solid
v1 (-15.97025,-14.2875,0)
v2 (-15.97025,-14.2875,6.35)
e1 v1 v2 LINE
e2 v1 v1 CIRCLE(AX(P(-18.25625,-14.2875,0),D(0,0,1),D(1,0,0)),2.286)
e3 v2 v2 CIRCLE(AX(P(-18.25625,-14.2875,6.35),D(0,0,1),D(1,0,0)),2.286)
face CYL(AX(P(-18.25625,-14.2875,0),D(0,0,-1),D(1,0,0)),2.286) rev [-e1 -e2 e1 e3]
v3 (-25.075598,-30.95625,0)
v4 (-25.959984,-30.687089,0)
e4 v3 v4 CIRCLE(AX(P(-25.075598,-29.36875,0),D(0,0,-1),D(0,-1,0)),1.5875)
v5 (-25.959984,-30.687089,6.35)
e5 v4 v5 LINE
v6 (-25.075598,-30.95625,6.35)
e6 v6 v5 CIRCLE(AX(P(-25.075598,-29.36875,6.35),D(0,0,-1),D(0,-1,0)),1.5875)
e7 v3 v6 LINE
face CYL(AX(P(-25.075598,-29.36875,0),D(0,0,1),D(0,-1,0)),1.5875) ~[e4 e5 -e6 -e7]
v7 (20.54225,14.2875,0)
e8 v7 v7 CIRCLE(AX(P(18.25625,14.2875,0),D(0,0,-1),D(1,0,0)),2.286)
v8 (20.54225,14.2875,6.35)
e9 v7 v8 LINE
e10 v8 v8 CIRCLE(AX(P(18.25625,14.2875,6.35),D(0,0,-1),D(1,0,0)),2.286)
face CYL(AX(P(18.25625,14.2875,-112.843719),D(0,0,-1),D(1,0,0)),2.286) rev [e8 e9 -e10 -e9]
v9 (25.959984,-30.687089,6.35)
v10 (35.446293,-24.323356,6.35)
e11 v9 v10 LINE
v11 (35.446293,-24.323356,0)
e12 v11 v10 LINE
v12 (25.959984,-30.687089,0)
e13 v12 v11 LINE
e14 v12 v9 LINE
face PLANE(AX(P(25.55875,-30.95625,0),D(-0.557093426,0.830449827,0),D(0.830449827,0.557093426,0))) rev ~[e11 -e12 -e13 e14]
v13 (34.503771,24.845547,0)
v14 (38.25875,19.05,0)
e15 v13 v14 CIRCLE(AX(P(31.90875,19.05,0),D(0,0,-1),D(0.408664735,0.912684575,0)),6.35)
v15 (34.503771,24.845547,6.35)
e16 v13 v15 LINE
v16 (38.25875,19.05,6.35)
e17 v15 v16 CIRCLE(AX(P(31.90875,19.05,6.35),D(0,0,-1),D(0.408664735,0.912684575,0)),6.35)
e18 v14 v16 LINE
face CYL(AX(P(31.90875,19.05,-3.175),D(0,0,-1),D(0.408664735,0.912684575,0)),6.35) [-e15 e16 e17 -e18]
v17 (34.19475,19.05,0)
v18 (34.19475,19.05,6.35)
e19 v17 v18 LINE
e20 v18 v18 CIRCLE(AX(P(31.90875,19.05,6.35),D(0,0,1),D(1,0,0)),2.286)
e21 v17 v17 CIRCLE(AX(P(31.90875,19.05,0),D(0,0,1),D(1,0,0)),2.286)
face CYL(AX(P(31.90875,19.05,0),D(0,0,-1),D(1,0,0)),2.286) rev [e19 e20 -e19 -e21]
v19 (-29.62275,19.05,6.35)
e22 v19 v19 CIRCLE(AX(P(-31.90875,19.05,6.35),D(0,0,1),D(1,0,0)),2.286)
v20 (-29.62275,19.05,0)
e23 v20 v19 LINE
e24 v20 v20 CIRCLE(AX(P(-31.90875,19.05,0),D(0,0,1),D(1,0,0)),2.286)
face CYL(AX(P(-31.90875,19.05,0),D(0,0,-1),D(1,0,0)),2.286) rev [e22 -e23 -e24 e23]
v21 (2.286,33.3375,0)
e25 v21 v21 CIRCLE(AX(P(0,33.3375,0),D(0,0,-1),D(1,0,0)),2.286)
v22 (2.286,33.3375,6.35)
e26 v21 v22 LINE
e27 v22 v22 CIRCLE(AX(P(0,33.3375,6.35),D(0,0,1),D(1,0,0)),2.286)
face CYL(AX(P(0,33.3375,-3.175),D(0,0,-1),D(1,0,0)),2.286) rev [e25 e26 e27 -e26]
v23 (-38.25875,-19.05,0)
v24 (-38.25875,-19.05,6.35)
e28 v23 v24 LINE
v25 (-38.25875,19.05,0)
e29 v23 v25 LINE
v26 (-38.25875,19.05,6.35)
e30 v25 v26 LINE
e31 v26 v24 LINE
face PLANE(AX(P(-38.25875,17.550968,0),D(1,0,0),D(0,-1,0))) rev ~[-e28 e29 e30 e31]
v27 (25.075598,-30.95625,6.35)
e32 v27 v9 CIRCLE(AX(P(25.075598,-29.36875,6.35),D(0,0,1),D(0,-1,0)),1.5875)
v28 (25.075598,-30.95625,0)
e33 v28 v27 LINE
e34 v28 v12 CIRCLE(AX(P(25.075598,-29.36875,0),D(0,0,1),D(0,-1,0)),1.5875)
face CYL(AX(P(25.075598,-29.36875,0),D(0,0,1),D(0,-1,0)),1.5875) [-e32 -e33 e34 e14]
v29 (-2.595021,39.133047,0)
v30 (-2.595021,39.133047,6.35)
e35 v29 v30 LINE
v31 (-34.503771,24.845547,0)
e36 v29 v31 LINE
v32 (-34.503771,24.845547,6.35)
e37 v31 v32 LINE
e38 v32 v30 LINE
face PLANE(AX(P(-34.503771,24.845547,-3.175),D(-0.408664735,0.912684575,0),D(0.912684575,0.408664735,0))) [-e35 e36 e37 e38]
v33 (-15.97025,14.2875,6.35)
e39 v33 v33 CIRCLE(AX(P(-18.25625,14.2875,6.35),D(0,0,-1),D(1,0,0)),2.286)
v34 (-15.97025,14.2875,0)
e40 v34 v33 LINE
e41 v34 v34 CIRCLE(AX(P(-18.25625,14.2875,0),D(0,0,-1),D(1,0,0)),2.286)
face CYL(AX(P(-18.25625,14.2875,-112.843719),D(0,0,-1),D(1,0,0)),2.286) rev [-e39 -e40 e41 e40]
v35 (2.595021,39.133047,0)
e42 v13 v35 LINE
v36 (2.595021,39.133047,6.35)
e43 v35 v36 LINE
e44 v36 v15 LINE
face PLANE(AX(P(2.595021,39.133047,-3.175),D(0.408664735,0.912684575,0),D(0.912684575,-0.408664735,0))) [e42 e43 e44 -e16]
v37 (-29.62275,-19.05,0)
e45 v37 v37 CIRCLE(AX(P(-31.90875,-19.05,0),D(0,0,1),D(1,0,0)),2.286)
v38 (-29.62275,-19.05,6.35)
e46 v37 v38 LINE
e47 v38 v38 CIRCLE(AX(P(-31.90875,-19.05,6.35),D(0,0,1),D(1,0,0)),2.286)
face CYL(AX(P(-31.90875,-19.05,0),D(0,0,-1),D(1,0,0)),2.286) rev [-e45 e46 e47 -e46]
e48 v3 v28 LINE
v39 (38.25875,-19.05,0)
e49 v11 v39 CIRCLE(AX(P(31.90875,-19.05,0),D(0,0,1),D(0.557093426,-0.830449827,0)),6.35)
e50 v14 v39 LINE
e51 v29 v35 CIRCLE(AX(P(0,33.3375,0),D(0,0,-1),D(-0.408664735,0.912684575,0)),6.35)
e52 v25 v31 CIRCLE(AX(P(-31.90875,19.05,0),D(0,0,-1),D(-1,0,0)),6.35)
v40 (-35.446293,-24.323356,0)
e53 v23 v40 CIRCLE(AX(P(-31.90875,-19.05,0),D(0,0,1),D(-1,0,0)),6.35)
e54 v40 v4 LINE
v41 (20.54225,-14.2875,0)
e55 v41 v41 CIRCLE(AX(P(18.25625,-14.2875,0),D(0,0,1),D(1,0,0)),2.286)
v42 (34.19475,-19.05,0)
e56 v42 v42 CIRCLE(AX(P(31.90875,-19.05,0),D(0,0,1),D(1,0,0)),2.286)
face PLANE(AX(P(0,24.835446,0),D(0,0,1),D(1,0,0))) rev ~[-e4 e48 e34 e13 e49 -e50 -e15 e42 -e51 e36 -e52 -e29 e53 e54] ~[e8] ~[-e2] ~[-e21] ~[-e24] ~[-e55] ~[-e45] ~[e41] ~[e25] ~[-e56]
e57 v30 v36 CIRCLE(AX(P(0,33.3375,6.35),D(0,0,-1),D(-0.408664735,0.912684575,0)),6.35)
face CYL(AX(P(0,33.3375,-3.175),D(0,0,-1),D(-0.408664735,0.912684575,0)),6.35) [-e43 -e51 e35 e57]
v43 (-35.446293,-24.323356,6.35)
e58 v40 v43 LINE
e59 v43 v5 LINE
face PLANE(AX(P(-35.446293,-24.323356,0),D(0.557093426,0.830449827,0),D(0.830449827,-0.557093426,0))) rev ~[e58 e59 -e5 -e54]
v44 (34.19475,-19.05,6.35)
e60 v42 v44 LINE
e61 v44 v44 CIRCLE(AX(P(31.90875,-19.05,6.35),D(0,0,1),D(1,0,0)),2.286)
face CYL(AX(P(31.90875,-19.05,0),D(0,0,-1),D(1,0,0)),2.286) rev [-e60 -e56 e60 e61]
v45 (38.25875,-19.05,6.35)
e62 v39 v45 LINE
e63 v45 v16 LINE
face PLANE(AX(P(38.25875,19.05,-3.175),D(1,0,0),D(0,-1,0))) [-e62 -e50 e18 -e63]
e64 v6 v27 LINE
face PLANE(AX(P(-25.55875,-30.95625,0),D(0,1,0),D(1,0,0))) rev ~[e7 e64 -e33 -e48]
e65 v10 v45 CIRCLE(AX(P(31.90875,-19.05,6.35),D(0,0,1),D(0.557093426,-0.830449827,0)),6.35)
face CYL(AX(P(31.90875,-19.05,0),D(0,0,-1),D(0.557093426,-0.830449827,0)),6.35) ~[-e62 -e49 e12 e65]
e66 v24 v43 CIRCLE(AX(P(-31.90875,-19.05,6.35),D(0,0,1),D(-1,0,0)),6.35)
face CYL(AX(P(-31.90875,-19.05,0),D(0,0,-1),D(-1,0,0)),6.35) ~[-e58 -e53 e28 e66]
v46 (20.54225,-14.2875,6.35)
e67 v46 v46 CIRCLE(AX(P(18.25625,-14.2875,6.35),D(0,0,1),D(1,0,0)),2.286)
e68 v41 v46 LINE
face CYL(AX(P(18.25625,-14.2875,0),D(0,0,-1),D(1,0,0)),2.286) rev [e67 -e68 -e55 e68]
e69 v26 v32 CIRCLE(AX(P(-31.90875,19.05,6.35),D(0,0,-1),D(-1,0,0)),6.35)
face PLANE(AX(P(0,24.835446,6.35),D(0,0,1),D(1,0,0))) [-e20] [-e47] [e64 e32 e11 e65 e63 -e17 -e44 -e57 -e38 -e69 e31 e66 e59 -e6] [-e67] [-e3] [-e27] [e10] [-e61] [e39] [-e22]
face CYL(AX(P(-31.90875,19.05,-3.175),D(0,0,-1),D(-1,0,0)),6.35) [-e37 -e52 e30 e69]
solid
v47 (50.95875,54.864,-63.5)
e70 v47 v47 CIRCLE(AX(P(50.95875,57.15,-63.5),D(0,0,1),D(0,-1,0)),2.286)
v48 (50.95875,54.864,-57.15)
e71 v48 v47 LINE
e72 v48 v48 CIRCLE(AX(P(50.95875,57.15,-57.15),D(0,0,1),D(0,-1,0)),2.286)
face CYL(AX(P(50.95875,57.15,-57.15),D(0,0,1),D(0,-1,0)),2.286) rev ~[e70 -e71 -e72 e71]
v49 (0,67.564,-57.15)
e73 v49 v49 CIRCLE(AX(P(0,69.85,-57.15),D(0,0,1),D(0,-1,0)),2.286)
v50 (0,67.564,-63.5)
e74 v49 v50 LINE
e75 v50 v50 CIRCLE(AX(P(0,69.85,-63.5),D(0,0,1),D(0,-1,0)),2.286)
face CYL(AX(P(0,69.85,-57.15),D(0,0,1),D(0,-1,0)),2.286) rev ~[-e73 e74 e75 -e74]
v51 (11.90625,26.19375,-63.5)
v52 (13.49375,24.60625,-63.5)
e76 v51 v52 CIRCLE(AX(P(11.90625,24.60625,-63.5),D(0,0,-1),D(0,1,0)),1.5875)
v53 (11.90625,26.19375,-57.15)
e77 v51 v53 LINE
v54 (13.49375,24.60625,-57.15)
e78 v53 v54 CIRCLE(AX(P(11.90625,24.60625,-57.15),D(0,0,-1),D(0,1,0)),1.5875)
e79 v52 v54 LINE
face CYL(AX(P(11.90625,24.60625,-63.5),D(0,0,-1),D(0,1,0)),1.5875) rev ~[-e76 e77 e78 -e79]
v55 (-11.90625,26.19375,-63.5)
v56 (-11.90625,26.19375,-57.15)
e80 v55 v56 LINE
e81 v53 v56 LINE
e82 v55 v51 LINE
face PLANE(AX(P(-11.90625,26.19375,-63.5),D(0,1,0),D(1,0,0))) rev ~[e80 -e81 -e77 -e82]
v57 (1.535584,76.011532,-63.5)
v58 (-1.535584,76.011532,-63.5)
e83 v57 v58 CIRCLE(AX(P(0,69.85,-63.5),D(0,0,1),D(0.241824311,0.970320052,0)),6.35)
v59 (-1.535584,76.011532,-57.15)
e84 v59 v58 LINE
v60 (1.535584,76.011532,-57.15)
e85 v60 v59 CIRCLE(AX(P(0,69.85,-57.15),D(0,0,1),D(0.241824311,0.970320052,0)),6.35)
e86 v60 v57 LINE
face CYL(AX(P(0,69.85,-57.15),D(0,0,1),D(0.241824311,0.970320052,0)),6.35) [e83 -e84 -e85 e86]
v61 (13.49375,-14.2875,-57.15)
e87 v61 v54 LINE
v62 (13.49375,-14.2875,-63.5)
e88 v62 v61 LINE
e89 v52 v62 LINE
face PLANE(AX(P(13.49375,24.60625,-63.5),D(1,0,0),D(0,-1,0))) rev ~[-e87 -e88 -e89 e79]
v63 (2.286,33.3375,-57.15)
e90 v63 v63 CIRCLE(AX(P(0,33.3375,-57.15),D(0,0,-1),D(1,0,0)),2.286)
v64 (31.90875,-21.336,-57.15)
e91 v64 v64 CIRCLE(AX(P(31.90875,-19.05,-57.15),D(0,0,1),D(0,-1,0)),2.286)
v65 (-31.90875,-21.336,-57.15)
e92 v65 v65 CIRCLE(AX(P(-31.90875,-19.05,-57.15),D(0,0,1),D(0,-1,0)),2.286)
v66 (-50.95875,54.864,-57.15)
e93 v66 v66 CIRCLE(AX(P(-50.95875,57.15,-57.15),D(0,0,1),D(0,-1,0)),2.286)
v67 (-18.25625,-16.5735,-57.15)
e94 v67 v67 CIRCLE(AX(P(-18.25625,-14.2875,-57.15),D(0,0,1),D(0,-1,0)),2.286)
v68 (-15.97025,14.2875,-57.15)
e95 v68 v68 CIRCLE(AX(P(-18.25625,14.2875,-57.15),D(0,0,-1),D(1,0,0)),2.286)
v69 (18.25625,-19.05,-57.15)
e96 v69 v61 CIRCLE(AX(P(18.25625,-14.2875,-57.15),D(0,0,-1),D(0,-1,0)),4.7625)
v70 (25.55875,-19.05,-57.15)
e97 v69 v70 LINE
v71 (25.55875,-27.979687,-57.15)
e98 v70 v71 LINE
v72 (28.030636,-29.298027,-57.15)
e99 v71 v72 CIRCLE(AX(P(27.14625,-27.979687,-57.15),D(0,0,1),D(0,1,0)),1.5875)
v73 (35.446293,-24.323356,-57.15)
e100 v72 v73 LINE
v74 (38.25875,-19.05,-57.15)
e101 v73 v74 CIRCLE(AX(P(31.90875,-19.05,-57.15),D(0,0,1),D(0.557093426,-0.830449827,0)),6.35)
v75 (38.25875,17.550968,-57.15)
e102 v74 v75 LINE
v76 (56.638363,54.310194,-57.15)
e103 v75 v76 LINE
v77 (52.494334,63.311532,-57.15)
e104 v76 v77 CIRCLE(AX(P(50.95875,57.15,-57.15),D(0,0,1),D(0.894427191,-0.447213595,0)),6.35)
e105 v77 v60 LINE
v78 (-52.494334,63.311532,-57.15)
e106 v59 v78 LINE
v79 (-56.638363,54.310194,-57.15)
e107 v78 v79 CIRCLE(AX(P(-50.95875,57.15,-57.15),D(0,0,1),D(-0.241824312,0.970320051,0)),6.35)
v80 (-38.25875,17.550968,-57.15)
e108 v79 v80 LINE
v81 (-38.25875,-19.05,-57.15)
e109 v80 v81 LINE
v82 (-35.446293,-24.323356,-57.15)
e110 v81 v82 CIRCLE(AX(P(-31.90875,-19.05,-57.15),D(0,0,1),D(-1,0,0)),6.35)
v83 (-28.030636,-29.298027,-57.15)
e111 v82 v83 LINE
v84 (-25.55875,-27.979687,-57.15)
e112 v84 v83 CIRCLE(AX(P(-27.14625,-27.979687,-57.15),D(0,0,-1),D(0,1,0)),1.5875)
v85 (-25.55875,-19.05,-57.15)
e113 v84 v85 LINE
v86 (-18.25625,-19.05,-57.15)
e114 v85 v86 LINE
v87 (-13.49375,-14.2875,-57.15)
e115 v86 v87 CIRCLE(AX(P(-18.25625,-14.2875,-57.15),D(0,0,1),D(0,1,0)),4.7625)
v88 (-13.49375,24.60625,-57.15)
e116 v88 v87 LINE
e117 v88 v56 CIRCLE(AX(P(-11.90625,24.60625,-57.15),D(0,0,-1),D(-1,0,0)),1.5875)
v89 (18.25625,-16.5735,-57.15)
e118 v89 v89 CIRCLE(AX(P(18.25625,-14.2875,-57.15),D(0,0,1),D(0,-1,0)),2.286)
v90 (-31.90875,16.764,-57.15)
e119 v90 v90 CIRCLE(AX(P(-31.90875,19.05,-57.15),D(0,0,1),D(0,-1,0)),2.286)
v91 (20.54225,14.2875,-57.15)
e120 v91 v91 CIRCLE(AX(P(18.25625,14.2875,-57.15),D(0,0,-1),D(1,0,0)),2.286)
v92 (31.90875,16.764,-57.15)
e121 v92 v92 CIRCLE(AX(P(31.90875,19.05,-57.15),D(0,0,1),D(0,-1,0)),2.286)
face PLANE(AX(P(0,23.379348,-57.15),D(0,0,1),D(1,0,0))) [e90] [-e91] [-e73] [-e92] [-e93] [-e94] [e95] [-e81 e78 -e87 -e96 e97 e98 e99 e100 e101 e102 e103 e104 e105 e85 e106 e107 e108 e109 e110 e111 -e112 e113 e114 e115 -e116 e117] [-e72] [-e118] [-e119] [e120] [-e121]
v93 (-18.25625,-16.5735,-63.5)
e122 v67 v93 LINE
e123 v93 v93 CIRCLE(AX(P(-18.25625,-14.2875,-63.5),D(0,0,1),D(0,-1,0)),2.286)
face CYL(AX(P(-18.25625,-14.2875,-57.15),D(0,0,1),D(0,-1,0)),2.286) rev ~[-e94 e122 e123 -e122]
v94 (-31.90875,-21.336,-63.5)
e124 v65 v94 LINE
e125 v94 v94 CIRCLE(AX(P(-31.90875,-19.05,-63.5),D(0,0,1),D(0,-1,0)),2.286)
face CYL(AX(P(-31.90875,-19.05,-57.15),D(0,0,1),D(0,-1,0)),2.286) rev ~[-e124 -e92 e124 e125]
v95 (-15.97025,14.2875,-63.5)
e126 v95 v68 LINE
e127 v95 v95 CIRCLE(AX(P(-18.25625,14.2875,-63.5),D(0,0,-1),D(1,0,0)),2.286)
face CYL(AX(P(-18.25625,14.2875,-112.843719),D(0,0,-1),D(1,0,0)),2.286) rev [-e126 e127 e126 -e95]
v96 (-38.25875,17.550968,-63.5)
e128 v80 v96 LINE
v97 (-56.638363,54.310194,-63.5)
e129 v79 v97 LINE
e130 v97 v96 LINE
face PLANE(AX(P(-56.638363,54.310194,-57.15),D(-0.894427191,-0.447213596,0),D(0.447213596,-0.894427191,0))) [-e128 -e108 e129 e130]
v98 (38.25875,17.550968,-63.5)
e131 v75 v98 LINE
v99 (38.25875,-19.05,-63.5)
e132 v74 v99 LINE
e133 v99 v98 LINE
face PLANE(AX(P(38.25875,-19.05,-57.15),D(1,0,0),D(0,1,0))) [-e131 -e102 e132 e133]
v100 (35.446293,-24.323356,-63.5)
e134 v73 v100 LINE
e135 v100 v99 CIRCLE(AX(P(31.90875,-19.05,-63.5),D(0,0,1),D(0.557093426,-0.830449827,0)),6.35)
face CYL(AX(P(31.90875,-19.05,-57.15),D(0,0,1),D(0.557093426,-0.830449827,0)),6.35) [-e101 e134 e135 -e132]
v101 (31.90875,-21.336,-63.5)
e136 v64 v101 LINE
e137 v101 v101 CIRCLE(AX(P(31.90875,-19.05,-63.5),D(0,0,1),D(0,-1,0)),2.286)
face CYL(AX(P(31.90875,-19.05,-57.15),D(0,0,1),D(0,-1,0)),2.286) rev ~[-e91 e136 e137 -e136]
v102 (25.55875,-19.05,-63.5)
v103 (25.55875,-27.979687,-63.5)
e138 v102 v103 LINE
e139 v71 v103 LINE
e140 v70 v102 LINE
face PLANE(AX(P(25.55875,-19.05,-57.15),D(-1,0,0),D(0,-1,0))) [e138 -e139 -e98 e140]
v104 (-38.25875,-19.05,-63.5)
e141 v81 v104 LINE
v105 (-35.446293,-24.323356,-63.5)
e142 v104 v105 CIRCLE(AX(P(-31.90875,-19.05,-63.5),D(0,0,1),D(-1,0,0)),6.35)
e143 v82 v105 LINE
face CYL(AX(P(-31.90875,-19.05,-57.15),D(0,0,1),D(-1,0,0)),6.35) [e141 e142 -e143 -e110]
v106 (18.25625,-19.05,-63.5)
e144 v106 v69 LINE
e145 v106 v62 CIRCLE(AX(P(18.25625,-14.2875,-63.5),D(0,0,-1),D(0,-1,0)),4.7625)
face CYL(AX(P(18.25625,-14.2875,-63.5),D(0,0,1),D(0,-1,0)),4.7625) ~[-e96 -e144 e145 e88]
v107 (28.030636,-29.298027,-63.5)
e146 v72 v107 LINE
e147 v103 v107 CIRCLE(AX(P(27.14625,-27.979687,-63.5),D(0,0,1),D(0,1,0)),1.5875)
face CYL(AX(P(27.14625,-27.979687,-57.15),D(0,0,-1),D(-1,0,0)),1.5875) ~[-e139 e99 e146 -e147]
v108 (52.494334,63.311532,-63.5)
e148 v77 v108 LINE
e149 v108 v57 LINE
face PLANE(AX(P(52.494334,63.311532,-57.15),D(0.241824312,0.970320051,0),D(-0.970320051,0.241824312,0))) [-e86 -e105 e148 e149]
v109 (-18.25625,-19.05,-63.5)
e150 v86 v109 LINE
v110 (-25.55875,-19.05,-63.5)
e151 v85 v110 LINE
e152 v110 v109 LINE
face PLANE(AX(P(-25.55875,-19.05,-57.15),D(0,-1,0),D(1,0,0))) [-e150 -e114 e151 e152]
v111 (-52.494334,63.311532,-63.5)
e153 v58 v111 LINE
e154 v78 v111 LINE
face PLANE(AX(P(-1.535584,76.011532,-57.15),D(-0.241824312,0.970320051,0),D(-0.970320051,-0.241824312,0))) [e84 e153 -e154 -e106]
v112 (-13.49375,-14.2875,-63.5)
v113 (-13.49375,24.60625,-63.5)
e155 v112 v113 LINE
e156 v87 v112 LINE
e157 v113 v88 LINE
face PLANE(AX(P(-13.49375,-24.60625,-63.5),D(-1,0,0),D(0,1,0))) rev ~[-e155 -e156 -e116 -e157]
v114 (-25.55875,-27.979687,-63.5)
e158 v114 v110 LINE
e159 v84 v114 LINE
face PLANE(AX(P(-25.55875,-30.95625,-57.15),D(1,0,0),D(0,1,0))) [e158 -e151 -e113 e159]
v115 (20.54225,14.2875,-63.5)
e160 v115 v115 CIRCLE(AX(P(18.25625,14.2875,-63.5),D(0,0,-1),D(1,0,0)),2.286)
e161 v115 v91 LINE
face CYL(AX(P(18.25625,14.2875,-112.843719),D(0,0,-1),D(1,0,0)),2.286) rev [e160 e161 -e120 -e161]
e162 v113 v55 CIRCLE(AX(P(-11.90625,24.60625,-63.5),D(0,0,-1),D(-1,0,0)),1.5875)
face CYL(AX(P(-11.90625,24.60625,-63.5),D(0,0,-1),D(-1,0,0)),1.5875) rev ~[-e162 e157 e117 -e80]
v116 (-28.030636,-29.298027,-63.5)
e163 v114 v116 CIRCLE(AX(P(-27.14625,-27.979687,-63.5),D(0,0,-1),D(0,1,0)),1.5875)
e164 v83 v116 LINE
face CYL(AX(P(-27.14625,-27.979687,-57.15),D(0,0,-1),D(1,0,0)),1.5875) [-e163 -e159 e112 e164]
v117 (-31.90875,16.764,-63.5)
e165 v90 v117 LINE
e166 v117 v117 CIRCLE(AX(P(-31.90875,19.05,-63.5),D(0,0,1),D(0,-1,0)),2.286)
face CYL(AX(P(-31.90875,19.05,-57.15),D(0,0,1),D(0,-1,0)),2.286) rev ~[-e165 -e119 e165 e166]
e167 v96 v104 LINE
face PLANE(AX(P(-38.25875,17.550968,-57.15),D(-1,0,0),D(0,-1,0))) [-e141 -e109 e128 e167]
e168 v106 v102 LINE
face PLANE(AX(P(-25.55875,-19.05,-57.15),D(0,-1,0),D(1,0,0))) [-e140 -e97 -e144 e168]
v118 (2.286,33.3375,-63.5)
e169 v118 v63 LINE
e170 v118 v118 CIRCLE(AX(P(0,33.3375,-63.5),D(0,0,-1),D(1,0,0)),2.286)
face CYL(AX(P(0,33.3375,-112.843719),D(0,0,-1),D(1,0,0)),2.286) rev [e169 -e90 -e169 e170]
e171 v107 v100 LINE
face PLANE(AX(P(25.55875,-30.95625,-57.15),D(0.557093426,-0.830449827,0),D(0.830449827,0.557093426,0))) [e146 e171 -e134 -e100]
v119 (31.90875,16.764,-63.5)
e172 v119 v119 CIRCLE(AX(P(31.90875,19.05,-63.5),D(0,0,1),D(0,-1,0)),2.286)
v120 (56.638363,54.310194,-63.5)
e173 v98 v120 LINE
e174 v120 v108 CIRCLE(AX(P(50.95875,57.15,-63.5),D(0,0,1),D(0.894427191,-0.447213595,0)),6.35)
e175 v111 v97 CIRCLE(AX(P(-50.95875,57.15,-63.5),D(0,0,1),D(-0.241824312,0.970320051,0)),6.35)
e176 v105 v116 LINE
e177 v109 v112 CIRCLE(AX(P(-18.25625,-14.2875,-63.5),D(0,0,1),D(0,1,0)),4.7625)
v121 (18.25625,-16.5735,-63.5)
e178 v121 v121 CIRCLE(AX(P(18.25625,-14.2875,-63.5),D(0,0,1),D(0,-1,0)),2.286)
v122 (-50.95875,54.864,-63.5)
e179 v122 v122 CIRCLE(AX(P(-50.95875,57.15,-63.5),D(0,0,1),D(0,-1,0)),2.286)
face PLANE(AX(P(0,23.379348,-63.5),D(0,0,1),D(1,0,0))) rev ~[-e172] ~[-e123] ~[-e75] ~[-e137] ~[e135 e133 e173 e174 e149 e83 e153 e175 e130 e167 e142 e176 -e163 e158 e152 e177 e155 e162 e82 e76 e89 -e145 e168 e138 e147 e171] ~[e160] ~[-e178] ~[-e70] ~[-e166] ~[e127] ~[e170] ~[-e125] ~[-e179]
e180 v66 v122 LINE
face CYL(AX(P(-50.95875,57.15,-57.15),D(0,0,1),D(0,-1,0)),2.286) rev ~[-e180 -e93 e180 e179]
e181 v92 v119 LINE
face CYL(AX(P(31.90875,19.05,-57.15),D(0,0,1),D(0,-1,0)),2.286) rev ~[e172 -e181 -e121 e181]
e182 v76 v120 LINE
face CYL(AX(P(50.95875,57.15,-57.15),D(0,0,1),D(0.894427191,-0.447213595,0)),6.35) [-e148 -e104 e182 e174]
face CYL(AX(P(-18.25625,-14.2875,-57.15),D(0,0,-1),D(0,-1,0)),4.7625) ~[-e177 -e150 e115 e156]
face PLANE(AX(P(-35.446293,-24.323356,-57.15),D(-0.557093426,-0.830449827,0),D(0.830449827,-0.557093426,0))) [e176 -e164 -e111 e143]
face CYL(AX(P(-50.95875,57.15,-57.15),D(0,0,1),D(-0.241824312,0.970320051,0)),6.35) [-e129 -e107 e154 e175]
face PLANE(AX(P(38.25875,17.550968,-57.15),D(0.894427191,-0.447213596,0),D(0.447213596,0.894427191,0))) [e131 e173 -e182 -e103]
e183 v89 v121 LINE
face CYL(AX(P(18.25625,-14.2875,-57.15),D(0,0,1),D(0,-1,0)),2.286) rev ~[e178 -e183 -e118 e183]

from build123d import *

# Parameters (mm, degrees)
SKETCH1_R               = 2.286
BOSS_EXTRUDE1_DEPTH     = 6.35
BOSS_EXTRUDE2_START     = -57.15
SKETCH1_3_R             = 2.286
BOSS_EXTRUDE2_DEPTH     = 6.35
FILLET1_R               = 1.5875
FILLET2_R               = 1.5875
CUT_EXTRUDE1_DEPTH      = 7.62
FILLET3_R               = 4.7625
CUT_EXTRUDE2_START      = -9.525
SKETCH4_R               = 2.286
CUT_EXTRUDE2_DEPTH      = 9.525
CUT_EXTRUDE3_DEPTH      = 119.193719489
CUT_EXTRUDE3_DEPTH_BACK = 119.193719489
SKETCH4_3_R             = 2.286


with BuildPart() as part:
    # Sketch1 → Boss-Extrude1 (new body)
    with BuildSketch(Plane.XY):
        with BuildLine():
            Line((-25.55875, -30.95625), (25.55875, -30.95625))
            Line((25.55875, -30.95625), (35.446293253, -24.323356401))
            ThreePointArc((35.446293253, -24.323356401), (37.511691176, -22.038235294), (38.25875, -19.05))
            Line((38.25875, -19.05), (38.25875, 17.550968343))
            Line((38.25875, 17.550968343), (56.638362663, 54.310193669))
            ThreePointArc((56.638362663, 54.310193669), (56.726833867, 59.805505319), (52.49433438, 63.311532327))
            Line((52.49433438, 63.311532327), (1.53558438, 76.011532327))
            ThreePointArc((1.53558438, 76.011532327), (0, 76.2), (-1.53558438, 76.011532327))
            Line((-1.53558438, 76.011532327), (-52.49433438, 63.311532327))
            ThreePointArc((-52.49433438, 63.311532327), (-56.726833867, 59.805505319), (-56.638362663, 54.310193669))
            Line((-56.638362663, 54.310193669), (-38.25875, 17.550968343))
            Line((-38.25875, 17.550968343), (-38.25875, -19.05))
            ThreePointArc((-38.25875, -19.05), (-37.511691176, -22.038235294), (-35.446293253, -24.323356401))
            Line((-35.446293253, -24.323356401), (-25.55875, -30.95625))
        make_face()
        with Locations((-31.90875, -19.05)):
            Circle(SKETCH1_R, mode=Mode.SUBTRACT)
        with Locations((-18.25625, -14.2875)):
            Circle(SKETCH1_R, mode=Mode.SUBTRACT)
        with Locations((18.25625, -14.2875)):
            Circle(SKETCH1_R, mode=Mode.SUBTRACT)
        with Locations((31.90875, -19.05)):
            Circle(SKETCH1_R, mode=Mode.SUBTRACT)
        with Locations((-31.90875, 19.05)):
            Circle(SKETCH1_R, mode=Mode.SUBTRACT)
        with Locations((-50.95875, 57.15)):
            Circle(SKETCH1_R, mode=Mode.SUBTRACT)
        with Locations((31.90875, 19.05)):
            Circle(SKETCH1_R, mode=Mode.SUBTRACT)
        with Locations((50.95875, 57.15)):
            Circle(SKETCH1_R, mode=Mode.SUBTRACT)
        with Locations((0, 69.85)):
            Circle(SKETCH1_R, mode=Mode.SUBTRACT)
    extrude(amount=BOSS_EXTRUDE1_DEPTH)

    # Fillet2
    fillet2_edges = [part.edges().sort_by_distance(p)[0] for p in [
        (25.55875, -30.95625, 3.175),
        (-25.55875, -30.95625, 3.175),
    ]]
    fillet(fillet2_edges, radius=FILLET2_R)

    # Sketch4 → Cut-Extrude2 (cut)
    # profile 1 of 3: a face of its own
    with BuildSketch(Plane.XY.offset(6.35).offset(CUT_EXTRUDE2_START)):
        with BuildLine():
            Line((-98.245897659, 9.07752692), (-38.25875, 17.550968343))
            Line((-38.25875, 17.550968343), (-56.638362663, 54.310193669))
            ThreePointArc((-56.638362663, 54.310193669), (-56.726833867, 59.805505319), (-52.49433438, 63.311532327))
            Line((-52.49433438, 63.311532327), (-1.53558438, 76.011532327))
            ThreePointArc((-1.53558438, 76.011532327), (0, 76.2), (1.53558438, 76.011532327))
            Line((1.53558438, 76.011532327), (52.49433438, 63.311532327))
            ThreePointArc((52.49433438, 63.311532327), (56.726833867, 59.805505319), (56.638362663, 54.310193669))
            Line((56.638362663, 54.310193669), (38.25875, 17.550968343))
            Line((38.25875, 17.550968343), (125.422392006, 90.402311249))
            Line((125.422392006, 90.402311249), (-79.231707288, 82.909223574))
            Line((-79.231707288, 82.909223574), (-98.245897659, 9.07752692))
        make_face()
    # profile 2 of 3: a face of its own
    with BuildSketch(Plane.XY.offset(6.35).offset(CUT_EXTRUDE2_START)):
        with Locations((0, 33.3375)):
            Circle(SKETCH4_R)
    # profile 3 of 3: a face of its own
    with BuildSketch(Plane.XY.offset(6.35).offset(CUT_EXTRUDE2_START)):
        with BuildLine():
            ThreePointArc((-38.25875, 19.05), (-37.237956498, 22.502833345), (-34.503771069, 24.845547054))
            Line((-34.503771069, 24.845547054), (-2.595021069, 39.133047054))
            ThreePointArc((-2.595021069, 39.133047054), (0, 39.6875), (2.595021069, 39.133047054))
            Line((2.595021069, 39.133047054), (34.503771069, 24.845547054))
            ThreePointArc((34.503771069, 24.845547054), (37.237956498, 22.502833345), (38.25875, 19.05))
            Line((38.25875, 19.05), (38.25875, 17.550968343))
            Line((38.25875, 17.550968343), (56.638362663, 54.310193669))
            ThreePointArc((56.638362663, 54.310193669), (56.726833867, 59.805505319), (52.49433438, 63.311532327))
            Line((52.49433438, 63.311532327), (1.53558438, 76.011532327))
            ThreePointArc((1.53558438, 76.011532327), (0, 76.2), (-1.53558438, 76.011532327))
            Line((-1.53558438, 76.011532327), (-52.49433438, 63.311532327))
            ThreePointArc((-52.49433438, 63.311532327), (-56.726833867, 59.805505319), (-56.638362663, 54.310193669))
            Line((-56.638362663, 54.310193669), (-38.25875, 17.550968343))
            Line((-38.25875, 17.550968343), (-38.25875, 19.05))
        make_face()
        with Locations(Location((-50.95875, 57.15, 0), (0, 0, 270))):
            Circle(SKETCH4_R, mode=Mode.SUBTRACT)
        with Locations(Location((0, 69.85, 0), (0, 0, 270))):
            Circle(SKETCH4_R, mode=Mode.SUBTRACT)
        with Locations(Location((50.95875, 57.15, 0), (0, 0, 270))):
            Circle(SKETCH4_R, mode=Mode.SUBTRACT)
    extrude(amount=CUT_EXTRUDE2_DEPTH, mode=Mode.SUBTRACT)


with BuildPart() as body_2:
    # Sketch1<3> → Boss-Extrude2 (new body)
    with BuildSketch(Plane.XY.offset(BOSS_EXTRUDE2_START)):
        with BuildLine():
            Line((-25.55875, -19.05), (25.55875, -19.05))
            Line((25.55875, -19.05), (25.55875, -30.95625))
            Line((25.55875, -30.95625), (35.446293253, -24.323356401))
            ThreePointArc((35.446293253, -24.323356401), (37.511691176, -22.038235294), (38.25875, -19.05))
            Line((38.25875, -19.05), (38.25875, 17.550968343))
            Line((38.25875, 17.550968343), (56.638362663, 54.310193669))
            ThreePointArc((56.638362663, 54.310193669), (56.726833867, 59.805505319), (52.49433438, 63.311532327))
            Line((52.49433438, 63.311532327), (1.53558438, 76.011532327))
            ThreePointArc((1.53558438, 76.011532327), (0, 76.2), (-1.53558438, 76.011532327))
            Line((-1.53558438, 76.011532327), (-52.49433438, 63.311532327))
            ThreePointArc((-52.49433438, 63.311532327), (-56.726833867, 59.805505319), (-56.638362663, 54.310193669))
            Line((-56.638362663, 54.310193669), (-38.25875, 17.550968343))
            Line((-38.25875, 17.550968343), (-38.25875, -19.05))
            ThreePointArc((-38.25875, -19.05), (-37.511691176, -22.038235294), (-35.446293253, -24.323356401))
            Line((-35.446293253, -24.323356401), (-25.55875, -30.95625))
            Line((-25.55875, -30.95625), (-25.55875, -19.05))
        make_face()
        with Locations(Location((-31.90875, -19.05, 0), (0, 0, 270))):
            Circle(SKETCH1_3_R, mode=Mode.SUBTRACT)
        with Locations(Location((-18.25625, -14.2875, 0), (0, 0, 270))):
            Circle(SKETCH1_3_R, mode=Mode.SUBTRACT)
        with Locations(Location((18.25625, -14.2875, 0), (0, 0, 270))):
            Circle(SKETCH1_3_R, mode=Mode.SUBTRACT)
        with Locations(Location((31.90875, -19.05, 0), (0, 0, 270))):
            Circle(SKETCH1_3_R, mode=Mode.SUBTRACT)
        with Locations(Location((-31.90875, 19.05, 0), (0, 0, 270))):
            Circle(SKETCH1_3_R, mode=Mode.SUBTRACT)
        with Locations(Location((-50.95875, 57.15, 0), (0, 0, 270))):
            Circle(SKETCH1_3_R, mode=Mode.SUBTRACT)
        with Locations(Location((31.90875, 19.05, 0), (0, 0, 270))):
            Circle(SKETCH1_3_R, mode=Mode.SUBTRACT)
        with Locations(Location((50.95875, 57.15, 0), (0, 0, 270))):
            Circle(SKETCH1_3_R, mode=Mode.SUBTRACT)
        with Locations(Location((0, 69.85, 0), (0, 0, 270))):
            Circle(SKETCH1_3_R, mode=Mode.SUBTRACT)
    extrude(amount=-BOSS_EXTRUDE2_DEPTH)

    # Fillet1
    fillet1_edges = [body_2.edges().sort_by_distance(p)[0] for p in [
        (-25.55875, -30.95625, -60.325),
        (25.55875, -30.95625, -60.325),
    ]]
    fillet(fillet1_edges, radius=FILLET1_R)

    # Sketch3 → Cut-Extrude1 (cut)
    with BuildSketch(Plane(origin=(0, 0, -63.5), x_dir=(-1, 0, 0), z_dir=(0, 0, -1))):
        with BuildLine():
            Line((11.90625, 26.19375), (-11.90625, 26.19375))
            ThreePointArc((-11.90625, 26.19375), (-13.028782015, 25.728782015), (-13.49375, 24.60625))
            Line((-13.49375, 24.60625), (-13.49375, -24.60625))
            ThreePointArc((-13.49375, -24.60625), (-13.028782015, -25.728782015), (-11.90625, -26.19375))
            Line((-11.90625, -26.19375), (11.90625, -26.19375))
            ThreePointArc((11.90625, -26.19375), (13.028782015, -25.728782015), (13.49375, -24.60625))
            Line((13.49375, -24.60625), (13.49375, 24.60625))
            ThreePointArc((13.49375, 24.60625), (13.028782015, 25.728782015), (11.90625, 26.19375))
        make_face()
    extrude(amount=-CUT_EXTRUDE1_DEPTH, mode=Mode.SUBTRACT)

    # Fillet3
    fillet3_edges = [body_2.edges().sort_by_distance(p)[0] for p in [
        (-13.49375, -19.05, -60.325),
        (13.49375, -19.05, -60.325),
    ]]
    fillet(fillet3_edges, radius=FILLET3_R)


with BuildPart() as cut_extrude3_tool:
    # Sketch4<3> → Cut-Extrude3 (new, two sides: drawn at the far end of the back side and taken through both)
    with BuildSketch(Plane.XY.offset(6.35).offset(-CUT_EXTRUDE3_DEPTH_BACK)):
        with Locations((0, 33.3375)):
            Circle(SKETCH4_3_R)
        with Locations((-18.25625, 14.2875)):
            Circle(SKETCH4_3_R)
        with Locations((18.25625, 14.2875)):
            Circle(SKETCH4_3_R)
    extrude(amount=CUT_EXTRUDE3_DEPTH + CUT_EXTRUDE3_DEPTH_BACK)


with BuildPart() as part_1:
    add(part.part)

    # Cut-Extrude3: cut by cut_extrude3_tool
    add(cut_extrude3_tool.part, mode=Mode.SUBTRACT)


with BuildPart() as body_2_1:
    add(body_2.part)

    # Cut-Extrude3: cut by cut_extrude3_tool
    add(cut_extrude3_tool.part, mode=Mode.SUBTRACT)


solid = Compound([part_1.part, body_2_1.part])
